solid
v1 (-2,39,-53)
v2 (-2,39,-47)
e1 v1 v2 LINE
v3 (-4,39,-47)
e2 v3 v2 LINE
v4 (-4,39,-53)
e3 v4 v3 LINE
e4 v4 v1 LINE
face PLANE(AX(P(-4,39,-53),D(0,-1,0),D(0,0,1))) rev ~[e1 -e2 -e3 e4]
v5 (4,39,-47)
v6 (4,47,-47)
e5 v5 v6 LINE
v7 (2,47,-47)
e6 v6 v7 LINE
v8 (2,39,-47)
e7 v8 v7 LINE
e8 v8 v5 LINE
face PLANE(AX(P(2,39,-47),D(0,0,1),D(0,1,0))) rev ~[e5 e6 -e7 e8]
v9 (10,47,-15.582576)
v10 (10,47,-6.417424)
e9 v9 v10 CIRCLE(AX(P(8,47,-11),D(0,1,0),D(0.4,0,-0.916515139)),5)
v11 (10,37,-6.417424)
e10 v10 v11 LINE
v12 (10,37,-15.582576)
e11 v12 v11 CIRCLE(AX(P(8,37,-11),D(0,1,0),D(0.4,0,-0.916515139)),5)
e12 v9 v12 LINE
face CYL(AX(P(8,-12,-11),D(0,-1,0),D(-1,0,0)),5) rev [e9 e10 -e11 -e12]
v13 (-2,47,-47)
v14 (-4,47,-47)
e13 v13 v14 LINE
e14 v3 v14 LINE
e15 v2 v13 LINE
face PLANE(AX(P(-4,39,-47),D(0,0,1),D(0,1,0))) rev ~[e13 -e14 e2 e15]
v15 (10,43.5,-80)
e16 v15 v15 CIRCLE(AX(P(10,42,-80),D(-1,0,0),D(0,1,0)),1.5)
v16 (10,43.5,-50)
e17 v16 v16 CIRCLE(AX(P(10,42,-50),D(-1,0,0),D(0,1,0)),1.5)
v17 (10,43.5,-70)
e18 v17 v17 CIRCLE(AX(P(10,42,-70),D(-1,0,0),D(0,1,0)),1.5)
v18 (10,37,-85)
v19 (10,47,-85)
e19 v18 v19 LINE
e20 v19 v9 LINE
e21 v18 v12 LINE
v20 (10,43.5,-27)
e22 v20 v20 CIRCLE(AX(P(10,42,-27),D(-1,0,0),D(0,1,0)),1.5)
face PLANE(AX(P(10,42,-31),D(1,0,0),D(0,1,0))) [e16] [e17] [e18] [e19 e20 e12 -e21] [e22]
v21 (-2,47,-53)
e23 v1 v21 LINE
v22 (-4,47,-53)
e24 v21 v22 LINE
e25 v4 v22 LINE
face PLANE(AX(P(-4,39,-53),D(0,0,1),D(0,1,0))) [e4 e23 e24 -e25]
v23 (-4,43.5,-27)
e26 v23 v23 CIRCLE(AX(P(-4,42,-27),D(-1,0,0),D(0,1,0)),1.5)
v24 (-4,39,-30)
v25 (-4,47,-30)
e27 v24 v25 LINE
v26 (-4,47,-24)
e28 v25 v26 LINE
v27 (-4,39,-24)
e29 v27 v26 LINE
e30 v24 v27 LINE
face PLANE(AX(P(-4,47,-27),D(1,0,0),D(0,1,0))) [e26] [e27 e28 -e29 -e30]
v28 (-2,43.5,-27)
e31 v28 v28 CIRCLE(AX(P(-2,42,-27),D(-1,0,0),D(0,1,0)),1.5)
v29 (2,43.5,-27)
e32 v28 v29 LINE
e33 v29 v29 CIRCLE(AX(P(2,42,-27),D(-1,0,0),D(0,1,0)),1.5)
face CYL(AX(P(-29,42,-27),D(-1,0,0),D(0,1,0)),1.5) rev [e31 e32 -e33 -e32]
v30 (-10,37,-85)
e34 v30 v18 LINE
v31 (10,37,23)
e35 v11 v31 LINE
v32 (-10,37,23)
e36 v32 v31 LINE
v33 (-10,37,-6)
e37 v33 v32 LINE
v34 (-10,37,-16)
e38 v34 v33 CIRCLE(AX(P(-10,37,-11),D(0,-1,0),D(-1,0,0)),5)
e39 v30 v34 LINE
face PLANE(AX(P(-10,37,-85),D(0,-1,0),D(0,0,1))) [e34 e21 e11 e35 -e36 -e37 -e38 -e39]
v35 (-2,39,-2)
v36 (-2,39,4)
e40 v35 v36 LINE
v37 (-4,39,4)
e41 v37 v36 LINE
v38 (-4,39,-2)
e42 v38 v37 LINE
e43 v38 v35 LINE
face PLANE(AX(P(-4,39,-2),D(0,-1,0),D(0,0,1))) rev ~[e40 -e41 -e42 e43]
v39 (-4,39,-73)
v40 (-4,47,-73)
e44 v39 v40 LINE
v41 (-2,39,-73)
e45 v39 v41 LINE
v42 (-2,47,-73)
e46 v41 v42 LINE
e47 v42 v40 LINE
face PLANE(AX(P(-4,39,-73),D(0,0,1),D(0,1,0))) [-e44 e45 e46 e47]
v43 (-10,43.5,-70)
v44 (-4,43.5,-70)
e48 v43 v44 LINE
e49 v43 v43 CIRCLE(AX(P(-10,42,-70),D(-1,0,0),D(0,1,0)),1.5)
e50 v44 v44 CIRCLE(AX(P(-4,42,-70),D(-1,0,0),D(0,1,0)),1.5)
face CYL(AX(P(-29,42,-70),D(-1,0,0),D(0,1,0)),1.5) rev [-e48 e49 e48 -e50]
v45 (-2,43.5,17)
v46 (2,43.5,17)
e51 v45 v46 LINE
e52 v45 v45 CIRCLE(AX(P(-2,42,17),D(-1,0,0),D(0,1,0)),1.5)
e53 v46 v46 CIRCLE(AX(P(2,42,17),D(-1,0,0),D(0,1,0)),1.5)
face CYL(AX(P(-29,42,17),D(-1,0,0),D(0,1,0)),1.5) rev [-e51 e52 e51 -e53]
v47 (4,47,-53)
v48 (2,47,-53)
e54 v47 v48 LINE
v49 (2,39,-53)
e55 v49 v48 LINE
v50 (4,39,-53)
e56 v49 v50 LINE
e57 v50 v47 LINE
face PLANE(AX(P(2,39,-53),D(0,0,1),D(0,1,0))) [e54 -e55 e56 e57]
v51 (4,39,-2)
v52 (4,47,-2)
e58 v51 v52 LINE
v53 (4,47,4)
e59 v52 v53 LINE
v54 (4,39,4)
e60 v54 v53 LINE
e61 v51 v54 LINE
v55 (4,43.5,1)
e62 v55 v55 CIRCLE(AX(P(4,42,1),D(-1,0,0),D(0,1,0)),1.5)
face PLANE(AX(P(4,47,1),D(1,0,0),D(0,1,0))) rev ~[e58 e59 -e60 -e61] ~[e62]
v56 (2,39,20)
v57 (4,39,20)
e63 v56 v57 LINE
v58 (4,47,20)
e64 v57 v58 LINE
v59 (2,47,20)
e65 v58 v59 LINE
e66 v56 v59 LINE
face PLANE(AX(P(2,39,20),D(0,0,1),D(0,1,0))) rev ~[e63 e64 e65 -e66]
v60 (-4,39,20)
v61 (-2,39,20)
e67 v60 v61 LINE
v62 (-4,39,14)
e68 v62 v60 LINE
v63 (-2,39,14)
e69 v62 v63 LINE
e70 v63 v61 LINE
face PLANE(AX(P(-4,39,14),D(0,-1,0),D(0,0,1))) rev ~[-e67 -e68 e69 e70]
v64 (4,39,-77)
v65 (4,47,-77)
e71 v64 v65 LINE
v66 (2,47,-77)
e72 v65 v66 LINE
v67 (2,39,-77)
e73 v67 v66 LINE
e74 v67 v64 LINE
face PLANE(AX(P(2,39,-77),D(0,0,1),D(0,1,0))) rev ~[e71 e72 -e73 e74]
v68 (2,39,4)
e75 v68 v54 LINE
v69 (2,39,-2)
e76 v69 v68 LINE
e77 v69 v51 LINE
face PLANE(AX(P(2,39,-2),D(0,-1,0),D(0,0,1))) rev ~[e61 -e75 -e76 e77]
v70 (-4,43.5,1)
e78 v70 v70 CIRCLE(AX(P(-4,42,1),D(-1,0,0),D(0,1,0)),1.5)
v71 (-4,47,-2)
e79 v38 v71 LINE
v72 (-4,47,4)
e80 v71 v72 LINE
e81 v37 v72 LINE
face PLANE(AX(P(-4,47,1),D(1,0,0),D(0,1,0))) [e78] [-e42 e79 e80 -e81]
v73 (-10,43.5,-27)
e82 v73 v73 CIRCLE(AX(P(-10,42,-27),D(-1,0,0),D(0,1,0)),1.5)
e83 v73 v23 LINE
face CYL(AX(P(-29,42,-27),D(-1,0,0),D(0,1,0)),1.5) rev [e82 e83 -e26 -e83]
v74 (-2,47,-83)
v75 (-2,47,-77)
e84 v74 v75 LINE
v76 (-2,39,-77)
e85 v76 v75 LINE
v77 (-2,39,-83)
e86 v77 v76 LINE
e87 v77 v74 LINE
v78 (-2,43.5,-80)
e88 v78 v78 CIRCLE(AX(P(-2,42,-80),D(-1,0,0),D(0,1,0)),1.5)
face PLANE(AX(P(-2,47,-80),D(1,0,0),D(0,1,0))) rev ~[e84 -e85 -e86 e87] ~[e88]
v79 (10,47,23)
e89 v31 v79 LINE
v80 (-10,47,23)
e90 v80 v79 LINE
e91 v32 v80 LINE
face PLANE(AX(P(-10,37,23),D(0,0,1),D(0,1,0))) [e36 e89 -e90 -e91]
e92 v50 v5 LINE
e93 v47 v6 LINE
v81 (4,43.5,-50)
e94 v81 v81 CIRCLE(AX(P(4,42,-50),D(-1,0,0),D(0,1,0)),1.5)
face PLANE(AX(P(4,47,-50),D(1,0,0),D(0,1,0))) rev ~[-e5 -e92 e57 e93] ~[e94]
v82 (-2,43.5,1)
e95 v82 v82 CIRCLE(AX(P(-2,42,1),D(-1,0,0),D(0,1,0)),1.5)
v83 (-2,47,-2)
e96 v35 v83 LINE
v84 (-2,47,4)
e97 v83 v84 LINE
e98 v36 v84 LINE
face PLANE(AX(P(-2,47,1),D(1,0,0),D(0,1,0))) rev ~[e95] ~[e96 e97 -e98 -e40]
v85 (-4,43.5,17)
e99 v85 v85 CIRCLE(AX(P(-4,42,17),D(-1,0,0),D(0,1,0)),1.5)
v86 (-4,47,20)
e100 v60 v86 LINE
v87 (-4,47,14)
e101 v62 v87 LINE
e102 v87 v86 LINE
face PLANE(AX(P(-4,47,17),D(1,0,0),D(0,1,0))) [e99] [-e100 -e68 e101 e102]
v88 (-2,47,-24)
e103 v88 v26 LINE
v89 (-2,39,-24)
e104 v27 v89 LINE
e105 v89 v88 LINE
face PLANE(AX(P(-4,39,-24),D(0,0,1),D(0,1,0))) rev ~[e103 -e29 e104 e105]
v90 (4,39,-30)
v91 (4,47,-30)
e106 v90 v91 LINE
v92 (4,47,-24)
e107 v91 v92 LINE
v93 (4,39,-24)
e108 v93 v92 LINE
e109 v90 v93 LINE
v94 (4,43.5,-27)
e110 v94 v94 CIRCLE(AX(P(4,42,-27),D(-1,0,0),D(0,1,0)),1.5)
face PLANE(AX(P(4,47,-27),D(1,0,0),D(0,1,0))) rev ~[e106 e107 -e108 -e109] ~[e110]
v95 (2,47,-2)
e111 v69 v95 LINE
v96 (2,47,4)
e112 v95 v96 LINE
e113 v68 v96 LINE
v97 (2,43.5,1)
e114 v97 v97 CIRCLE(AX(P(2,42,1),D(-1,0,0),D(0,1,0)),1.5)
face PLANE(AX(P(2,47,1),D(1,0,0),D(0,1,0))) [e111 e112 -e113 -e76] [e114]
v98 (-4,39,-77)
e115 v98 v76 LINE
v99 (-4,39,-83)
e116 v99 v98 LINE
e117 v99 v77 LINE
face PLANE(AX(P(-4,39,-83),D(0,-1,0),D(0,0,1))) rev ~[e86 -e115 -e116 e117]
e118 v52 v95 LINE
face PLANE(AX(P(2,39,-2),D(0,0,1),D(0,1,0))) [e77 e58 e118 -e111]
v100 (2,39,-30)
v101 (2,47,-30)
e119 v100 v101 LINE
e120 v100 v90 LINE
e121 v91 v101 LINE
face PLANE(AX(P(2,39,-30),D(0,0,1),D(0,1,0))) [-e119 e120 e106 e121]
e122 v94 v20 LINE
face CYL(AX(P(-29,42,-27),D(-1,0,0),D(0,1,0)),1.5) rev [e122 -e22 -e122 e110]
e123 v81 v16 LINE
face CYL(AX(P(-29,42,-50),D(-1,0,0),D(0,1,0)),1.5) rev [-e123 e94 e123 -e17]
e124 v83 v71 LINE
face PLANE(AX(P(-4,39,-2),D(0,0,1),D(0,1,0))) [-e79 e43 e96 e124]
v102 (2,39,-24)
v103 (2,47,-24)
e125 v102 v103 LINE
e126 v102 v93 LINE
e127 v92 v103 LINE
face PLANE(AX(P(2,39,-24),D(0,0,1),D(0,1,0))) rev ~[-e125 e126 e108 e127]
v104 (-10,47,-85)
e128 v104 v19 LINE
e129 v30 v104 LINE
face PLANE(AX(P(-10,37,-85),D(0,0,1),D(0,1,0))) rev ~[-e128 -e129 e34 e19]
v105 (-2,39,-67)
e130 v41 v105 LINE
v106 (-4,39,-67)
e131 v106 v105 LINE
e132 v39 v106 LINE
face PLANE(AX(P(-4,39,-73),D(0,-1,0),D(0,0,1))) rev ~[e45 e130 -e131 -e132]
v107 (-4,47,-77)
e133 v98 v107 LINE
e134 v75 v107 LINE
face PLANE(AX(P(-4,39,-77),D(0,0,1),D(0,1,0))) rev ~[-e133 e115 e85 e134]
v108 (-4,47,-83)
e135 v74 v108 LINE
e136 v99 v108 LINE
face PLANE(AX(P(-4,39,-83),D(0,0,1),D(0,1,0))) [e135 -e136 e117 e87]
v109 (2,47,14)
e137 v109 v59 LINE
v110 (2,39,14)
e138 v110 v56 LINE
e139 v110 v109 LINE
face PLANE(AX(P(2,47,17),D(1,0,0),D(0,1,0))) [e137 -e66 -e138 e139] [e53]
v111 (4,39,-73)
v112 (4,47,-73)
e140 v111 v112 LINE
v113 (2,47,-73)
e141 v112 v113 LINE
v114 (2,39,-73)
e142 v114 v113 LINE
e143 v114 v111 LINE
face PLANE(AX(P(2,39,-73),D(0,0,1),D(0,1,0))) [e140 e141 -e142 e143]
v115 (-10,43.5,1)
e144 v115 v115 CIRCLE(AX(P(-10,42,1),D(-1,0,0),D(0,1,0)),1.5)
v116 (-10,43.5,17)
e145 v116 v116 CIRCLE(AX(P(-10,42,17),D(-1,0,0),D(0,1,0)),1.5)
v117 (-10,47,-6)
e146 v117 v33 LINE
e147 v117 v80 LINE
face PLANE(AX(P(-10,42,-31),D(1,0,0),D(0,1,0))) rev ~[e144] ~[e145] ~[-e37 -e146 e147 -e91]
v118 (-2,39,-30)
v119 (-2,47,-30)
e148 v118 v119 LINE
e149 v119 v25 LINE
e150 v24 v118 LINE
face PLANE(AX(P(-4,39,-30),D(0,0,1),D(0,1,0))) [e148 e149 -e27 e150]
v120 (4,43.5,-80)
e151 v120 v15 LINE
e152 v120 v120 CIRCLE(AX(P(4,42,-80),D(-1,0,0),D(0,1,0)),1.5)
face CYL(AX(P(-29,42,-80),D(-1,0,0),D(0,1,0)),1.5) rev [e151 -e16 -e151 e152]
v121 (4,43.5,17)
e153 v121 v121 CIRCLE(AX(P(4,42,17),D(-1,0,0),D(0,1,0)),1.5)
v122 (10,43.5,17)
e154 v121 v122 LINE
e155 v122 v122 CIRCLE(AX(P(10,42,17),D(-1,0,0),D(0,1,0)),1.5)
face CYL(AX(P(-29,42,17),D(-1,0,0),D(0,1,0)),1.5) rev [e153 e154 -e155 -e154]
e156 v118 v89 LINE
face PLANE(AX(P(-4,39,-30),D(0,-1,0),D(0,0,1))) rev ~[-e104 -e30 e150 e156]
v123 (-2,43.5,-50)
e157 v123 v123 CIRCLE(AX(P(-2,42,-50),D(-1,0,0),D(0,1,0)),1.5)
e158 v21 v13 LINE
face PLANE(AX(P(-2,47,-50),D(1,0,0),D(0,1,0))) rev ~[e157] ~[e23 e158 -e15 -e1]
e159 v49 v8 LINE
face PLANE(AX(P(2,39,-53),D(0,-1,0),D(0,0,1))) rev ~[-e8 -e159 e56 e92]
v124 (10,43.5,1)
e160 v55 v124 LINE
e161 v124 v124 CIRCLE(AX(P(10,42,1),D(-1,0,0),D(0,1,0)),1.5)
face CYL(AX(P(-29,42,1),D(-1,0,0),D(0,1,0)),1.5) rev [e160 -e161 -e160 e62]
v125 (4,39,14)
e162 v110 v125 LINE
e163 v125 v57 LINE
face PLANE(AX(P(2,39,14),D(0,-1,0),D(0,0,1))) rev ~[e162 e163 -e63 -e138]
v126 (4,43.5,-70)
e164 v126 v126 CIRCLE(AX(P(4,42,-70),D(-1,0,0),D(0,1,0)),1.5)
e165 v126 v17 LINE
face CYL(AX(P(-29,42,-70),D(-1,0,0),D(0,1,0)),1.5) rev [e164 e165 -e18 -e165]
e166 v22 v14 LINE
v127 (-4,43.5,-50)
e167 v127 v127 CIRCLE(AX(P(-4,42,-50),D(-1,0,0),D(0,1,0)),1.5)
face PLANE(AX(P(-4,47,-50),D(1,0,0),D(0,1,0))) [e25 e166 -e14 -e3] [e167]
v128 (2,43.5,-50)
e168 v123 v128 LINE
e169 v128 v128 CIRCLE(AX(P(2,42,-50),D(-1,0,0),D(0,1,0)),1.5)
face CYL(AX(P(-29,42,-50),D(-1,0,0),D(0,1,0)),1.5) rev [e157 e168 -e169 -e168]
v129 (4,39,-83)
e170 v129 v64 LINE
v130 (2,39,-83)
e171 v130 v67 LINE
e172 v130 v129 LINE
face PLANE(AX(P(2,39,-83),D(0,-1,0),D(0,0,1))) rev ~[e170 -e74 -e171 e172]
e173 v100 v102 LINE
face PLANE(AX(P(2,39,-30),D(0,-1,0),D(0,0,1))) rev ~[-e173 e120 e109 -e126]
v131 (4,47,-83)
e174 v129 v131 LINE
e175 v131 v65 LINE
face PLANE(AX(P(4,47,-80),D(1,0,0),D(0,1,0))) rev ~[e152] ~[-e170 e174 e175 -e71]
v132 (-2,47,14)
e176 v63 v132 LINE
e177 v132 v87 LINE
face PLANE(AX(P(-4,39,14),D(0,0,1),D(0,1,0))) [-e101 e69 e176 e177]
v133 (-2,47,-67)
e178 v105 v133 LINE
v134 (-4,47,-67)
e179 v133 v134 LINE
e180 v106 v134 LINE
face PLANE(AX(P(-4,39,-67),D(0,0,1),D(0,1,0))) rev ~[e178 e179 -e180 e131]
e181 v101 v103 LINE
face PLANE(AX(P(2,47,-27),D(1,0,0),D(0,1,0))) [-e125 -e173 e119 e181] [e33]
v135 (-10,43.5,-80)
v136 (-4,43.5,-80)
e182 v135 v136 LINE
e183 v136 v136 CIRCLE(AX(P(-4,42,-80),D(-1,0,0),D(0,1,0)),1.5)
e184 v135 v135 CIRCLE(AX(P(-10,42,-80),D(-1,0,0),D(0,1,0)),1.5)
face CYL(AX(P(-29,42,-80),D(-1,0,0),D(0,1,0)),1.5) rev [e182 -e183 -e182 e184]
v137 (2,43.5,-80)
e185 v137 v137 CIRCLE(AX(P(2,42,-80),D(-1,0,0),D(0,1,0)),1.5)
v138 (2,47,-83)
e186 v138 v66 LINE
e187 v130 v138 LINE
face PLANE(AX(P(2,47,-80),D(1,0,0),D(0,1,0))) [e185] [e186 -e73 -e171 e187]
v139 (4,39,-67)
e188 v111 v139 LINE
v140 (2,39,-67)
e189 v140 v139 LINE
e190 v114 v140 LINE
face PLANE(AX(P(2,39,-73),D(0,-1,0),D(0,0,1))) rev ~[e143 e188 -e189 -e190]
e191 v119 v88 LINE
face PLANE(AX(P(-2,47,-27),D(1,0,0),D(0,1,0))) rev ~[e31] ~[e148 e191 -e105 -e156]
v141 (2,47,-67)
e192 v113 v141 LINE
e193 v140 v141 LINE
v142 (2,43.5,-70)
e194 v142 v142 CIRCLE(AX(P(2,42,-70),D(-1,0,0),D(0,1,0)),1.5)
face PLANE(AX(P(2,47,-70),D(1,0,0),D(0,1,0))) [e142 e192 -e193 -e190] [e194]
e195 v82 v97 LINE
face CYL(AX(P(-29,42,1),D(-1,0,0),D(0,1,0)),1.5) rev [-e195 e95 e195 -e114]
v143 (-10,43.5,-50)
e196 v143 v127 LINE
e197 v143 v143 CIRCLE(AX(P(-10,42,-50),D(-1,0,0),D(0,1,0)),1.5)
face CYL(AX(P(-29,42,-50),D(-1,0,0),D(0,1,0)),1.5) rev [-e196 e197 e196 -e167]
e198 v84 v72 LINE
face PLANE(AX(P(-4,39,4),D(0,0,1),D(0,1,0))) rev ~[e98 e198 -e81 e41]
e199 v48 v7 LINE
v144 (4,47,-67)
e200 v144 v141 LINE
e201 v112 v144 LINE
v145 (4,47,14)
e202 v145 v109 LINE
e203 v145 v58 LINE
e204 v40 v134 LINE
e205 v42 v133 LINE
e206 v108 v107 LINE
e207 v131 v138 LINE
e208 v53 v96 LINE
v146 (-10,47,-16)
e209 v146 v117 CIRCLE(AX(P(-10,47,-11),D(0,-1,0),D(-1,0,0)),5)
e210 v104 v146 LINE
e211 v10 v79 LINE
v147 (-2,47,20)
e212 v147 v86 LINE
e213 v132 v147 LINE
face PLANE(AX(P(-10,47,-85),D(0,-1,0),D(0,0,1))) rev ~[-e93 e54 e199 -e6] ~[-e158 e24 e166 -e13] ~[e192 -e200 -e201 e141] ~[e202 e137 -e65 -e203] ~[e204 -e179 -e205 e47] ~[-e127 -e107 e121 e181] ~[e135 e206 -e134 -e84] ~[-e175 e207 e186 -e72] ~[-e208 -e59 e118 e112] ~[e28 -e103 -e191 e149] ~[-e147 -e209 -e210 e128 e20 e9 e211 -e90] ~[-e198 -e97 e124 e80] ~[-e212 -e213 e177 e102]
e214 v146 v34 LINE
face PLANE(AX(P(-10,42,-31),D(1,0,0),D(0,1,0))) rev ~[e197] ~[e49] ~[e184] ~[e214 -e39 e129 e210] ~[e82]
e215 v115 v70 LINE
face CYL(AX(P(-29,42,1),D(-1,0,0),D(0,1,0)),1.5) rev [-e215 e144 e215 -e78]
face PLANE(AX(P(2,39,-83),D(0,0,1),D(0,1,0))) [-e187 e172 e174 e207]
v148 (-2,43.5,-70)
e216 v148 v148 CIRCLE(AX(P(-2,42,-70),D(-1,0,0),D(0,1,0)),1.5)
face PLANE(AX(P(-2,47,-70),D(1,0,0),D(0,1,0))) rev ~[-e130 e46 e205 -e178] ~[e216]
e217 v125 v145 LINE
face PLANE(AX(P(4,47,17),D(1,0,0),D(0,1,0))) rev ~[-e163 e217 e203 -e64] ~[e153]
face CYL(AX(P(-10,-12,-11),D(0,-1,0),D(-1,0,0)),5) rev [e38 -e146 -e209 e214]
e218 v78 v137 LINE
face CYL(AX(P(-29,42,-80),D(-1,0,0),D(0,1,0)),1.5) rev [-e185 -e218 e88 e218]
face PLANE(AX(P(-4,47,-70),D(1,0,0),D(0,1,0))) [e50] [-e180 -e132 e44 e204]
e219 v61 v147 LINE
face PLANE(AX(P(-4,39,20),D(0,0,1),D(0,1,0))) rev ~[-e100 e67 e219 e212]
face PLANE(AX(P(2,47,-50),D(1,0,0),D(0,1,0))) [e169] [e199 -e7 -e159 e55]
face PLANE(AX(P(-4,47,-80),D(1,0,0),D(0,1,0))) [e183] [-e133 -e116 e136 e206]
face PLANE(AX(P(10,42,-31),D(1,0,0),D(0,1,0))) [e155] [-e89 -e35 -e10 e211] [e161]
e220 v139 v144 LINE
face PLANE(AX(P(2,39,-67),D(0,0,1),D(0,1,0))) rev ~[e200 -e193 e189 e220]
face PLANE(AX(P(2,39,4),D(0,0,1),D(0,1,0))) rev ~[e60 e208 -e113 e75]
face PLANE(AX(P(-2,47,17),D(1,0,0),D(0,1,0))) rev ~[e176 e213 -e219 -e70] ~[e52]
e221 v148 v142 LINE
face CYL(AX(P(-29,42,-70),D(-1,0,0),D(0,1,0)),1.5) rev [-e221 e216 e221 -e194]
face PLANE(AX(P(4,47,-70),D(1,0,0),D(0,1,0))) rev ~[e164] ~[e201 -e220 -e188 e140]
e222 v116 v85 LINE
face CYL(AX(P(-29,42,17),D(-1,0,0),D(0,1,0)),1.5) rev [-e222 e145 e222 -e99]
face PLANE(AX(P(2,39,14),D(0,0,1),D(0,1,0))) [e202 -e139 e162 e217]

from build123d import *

# Parameters (mm, degrees)
BOX202_W               = 16
BOX202_H               = 6
BOX202_DEPTH           = 2
BOX208_W               = 16
BOX208_H               = 6
BOX208_DEPTH           = 2
BOX206_W               = 16
BOX206_H               = 6
BOX206_DEPTH           = 2
BOX204_W               = 16
BOX204_H               = 6
BOX204_DEPTH           = 2
BOX198_W               = 16
BOX198_H               = 6
BOX198_DEPTH           = 2
BOX209_W               = 16
BOX209_H               = 6
BOX209_DEPTH           = 2
BOX205_W               = 16
BOX205_H               = 6
BOX205_DEPTH           = 2
BOX207_W               = 16
BOX207_H               = 6
BOX207_DEPTH           = 2
BOX200_W               = 16
BOX200_H               = 6
BOX200_DEPTH           = 2
BOX212_W               = 16
BOX212_H               = 6
BOX212_DEPTH           = 2
BOX211_W               = 16
BOX211_H               = 6
BOX211_DEPTH           = 2
BOX203_W               = 16
BOX203_H               = 6
BOX203_DEPTH           = 2
CYLINDER480_R          = 1.5
CYLINDER480_DEPTH      = 50
CYLINDER467_R          = 1.5
CYLINDER467_DEPTH      = 50
CYLINDER483_R          = 1.5
CYLINDER483_DEPTH      = 50
CYLINDER486_R          = 1.5
CYLINDER486_DEPTH      = 50
CYLINDER488_R          = 1.5
CYLINDER488_DEPTH      = 50
CYLINDER482_R          = 1.5
CYLINDER482_DEPTH      = 50
CYLINDER476_R          = 5
CYLINDER476_DEPTH      = 100
CYLINDER475_R          = 5
CYLINDER475_DEPTH      = 100
CYLINDER461_R          = 5
CYLINDER461_DEPTH      = 100
CYLINDER477_R          = 5
CYLINDER477_DEPTH      = 100
CYLINDER481_R          = 5
CYLINDER481_DEPTH      = 100
CYLINDER478_R          = 5
CYLINDER478_DEPTH      = 100
CYLINDER479_R          = 5
CYLINDER479_DEPTH      = 100
CYLINDER474_R          = 5
CYLINDER474_DEPTH      = 100
BOX201_W               = 10
BOX201_H               = 108
BOX201_DEPTH           = 20
CUT591_ROLL_ANGLE      = 90
CUT591_PLACEMENT_ANGLE = 90


with BuildPart() as krychle202:
    # Box202 → Box202 (new body)
    with BuildSketch(Plane(origin=(60, 2, 16), x_dir=(1, 0, 0), z_dir=(0, 0, 1))):
        with Locations((8, 3)):
            Rectangle(BOX202_W, BOX202_H)
    extrude(amount=BOX202_DEPTH)


with BuildPart() as krychle208:
    # Box208 → Box208 (new body)
    with BuildSketch(Plane(origin=(60, -21, 10), x_dir=(1, 0, 0), z_dir=(0, 0, 1))):
        with Locations((8, 3)):
            Rectangle(BOX208_W, BOX208_H)
    extrude(amount=BOX208_DEPTH)


with BuildPart() as krychle206:
    # Box206 → Box206 (new body)
    with BuildSketch(Plane(origin=(60, -21, 16), x_dir=(1, 0, 0), z_dir=(0, 0, 1))):
        with Locations((8, 3)):
            Rectangle(BOX206_W, BOX206_H)
    extrude(amount=BOX206_DEPTH)


with BuildPart() as krychle204:
    # Box204 → Box204 (new body)
    with BuildSketch(Plane(origin=(60, -41, 10), x_dir=(1, 0, 0), z_dir=(0, 0, 1))):
        with Locations((8, 3)):
            Rectangle(BOX204_W, BOX204_H)
    extrude(amount=BOX204_DEPTH)


with BuildPart() as krychle198:
    # Box198 → Box198 (new body)
    with BuildSketch(Plane(origin=(60, -41, 16), x_dir=(1, 0, 0), z_dir=(0, 0, 1))):
        with Locations((8, 3)):
            Rectangle(BOX198_W, BOX198_H)
    extrude(amount=BOX198_DEPTH)


with BuildPart() as krychle209:
    # Box209 → Box209 (new body)
    with BuildSketch(Plane(origin=(60, -51, 10), x_dir=(1, 0, 0), z_dir=(0, 0, 1))):
        with Locations((8, 3)):
            Rectangle(BOX209_W, BOX209_H)
    extrude(amount=BOX209_DEPTH)


with BuildPart() as krychle205:
    # Box205 → Box205 (new body)
    with BuildSketch(Plane(origin=(60, -51, 16), x_dir=(1, 0, 0), z_dir=(0, 0, 1))):
        with Locations((8, 3)):
            Rectangle(BOX205_W, BOX205_H)
    extrude(amount=BOX205_DEPTH)


with BuildPart() as krychle207:
    # Box207 → Box207 (new body)
    with BuildSketch(Plane(origin=(60, 30, 10), x_dir=(1, 0, 0), z_dir=(0, 0, 1))):
        with Locations((8, 3)):
            Rectangle(BOX207_W, BOX207_H)
    extrude(amount=BOX207_DEPTH)


with BuildPart() as krychle200:
    # Box200 → Box200 (new body)
    with BuildSketch(Plane(origin=(60, 46, 10), x_dir=(1, 0, 0), z_dir=(0, 0, 1))):
        with Locations((8, 3)):
            Rectangle(BOX200_W, BOX200_H)
    extrude(amount=BOX200_DEPTH)


with BuildPart() as krychle212:
    # Box212 → Box212 (new body)
    with BuildSketch(Plane(origin=(60, 30, 16), x_dir=(1, 0, 0), z_dir=(0, 0, 1))):
        with Locations((8, 3)):
            Rectangle(BOX212_W, BOX212_H)
    extrude(amount=BOX212_DEPTH)


with BuildPart() as krychle211:
    # Box211 → Box211 (new body)
    with BuildSketch(Plane(origin=(60, 46, 16), x_dir=(1, 0, 0), z_dir=(0, 0, 1))):
        with Locations((8, 3)):
            Rectangle(BOX211_W, BOX211_H)
    extrude(amount=BOX211_DEPTH)


with BuildPart() as compound592:
    # Box203 → Box203 (new body)
    with BuildSketch(Plane(origin=(60, 2, 10), x_dir=(1, 0, 0), z_dir=(0, 0, 1))):
        with Locations((8, 3)):
            Rectangle(BOX203_W, BOX203_H)
    extrude(amount=BOX203_DEPTH)

    # Compound592: union Krychle202, Krychle208, Krychle206, Krychle204, Krychle198, Krychle209, Krychle205, Krychle207, Krychle200, Krychle212, Krychle211
    add(krychle202.part)
    add(krychle208.part)
    add(krychle206.part)
    add(krychle204.part)
    add(krychle198.part)
    add(krychle209.part)
    add(krychle205.part)
    add(krychle207.part)
    add(krychle200.part)
    add(krychle212.part)
    add(krychle211.part)


with BuildPart() as compound592_1:
    # Compound592 placement: moved
    add(compound592.part.moved(Location((39, 24, 3))))


with BuildPart() as v_lec480:
    # Cylinder480 → Cylinder480 (new body)
    with BuildSketch(Plane(origin=(63, -18, -12), x_dir=(1, 0, 0), z_dir=(0, 0, 1))):
        Circle(CYLINDER480_R)
    extrude(amount=CYLINDER480_DEPTH)


with BuildPart() as v_lec467:
    # Cylinder467 → Cylinder467 (new body)
    with BuildSketch(Plane(origin=(63, -38, -12), x_dir=(1, 0, 0), z_dir=(0, 0, 1))):
        Circle(CYLINDER467_R)
    extrude(amount=CYLINDER467_DEPTH)


with BuildPart() as v_lec483:
    # Cylinder483 → Cylinder483 (new body)
    with BuildSketch(Plane(origin=(63, -48, -12), x_dir=(1, 0, 0), z_dir=(0, 0, 1))):
        Circle(CYLINDER483_R)
    extrude(amount=CYLINDER483_DEPTH)


with BuildPart() as v_lec486:
    # Cylinder486 → Cylinder486 (new body)
    with BuildSketch(Plane(origin=(63, 33, -12), x_dir=(1, 0, 0), z_dir=(0, 0, 1))):
        Circle(CYLINDER486_R)
    extrude(amount=CYLINDER486_DEPTH)


with BuildPart() as v_lec488:
    # Cylinder488 → Cylinder488 (new body)
    with BuildSketch(Plane(origin=(63, 49, -12), x_dir=(1, 0, 0), z_dir=(0, 0, 1))):
        Circle(CYLINDER488_R)
    extrude(amount=CYLINDER488_DEPTH)


with BuildPart() as compound593:
    # Cylinder482 → Cylinder482 (new body)
    with BuildSketch(Plane(origin=(63, 5, -12), x_dir=(1, 0, 0), z_dir=(0, 0, 1))):
        Circle(CYLINDER482_R)
    extrude(amount=CYLINDER482_DEPTH)

    # Compound593: union Válec480, Válec467, Válec483, Válec486, Válec488
    add(v_lec480.part)
    add(v_lec467.part)
    add(v_lec483.part)
    add(v_lec486.part)
    add(v_lec488.part)


with BuildPart() as compound593_1:
    # Compound593 placement: moved
    add(compound593.part.moved(Location((39, 24, 0))))


with BuildPart() as v_lec476:
    # Cylinder476 → Cylinder476 (new body)
    with BuildSketch(Plane(origin=(24, -51, 25), x_dir=(0, 0, -1), z_dir=(1, 0, 0))):
        Circle(CYLINDER476_R)
    extrude(amount=CYLINDER476_DEPTH)


with BuildPart() as v_lec475:
    # Cylinder475 → Cylinder475 (new body)
    with BuildSketch(Plane(origin=(24, 36, 34), x_dir=(0, 0, -1), z_dir=(1, 0, 0))):
        Circle(CYLINDER475_R)
    extrude(amount=CYLINDER475_DEPTH)


with BuildPart() as v_lec461:
    # Cylinder461 → Cylinder461 (new body)
    with BuildSketch(Plane(origin=(24, -36, 34), x_dir=(0, 0, -1), z_dir=(1, 0, 0))):
        Circle(CYLINDER461_R)
    extrude(amount=CYLINDER461_DEPTH)


with BuildPart() as v_lec477:
    # Cylinder477 → Cylinder477 (new body)
    with BuildSketch(Plane(origin=(24, -23, -5), x_dir=(0, 0, -1), z_dir=(1, 0, 0))):
        Circle(CYLINDER477_R)
    extrude(amount=CYLINDER477_DEPTH)


with BuildPart() as v_lec481:
    # Cylinder481 → Cylinder481 (new body)
    with BuildSketch(Plane(origin=(24, 51, 7), x_dir=(0, 0, -1), z_dir=(1, 0, 0))):
        Circle(CYLINDER481_R)
    extrude(amount=CYLINDER481_DEPTH)


with BuildPart() as v_lec478:
    # Cylinder478 → Cylinder478 (new body)
    with BuildSketch(Plane(origin=(24, 23, -5), x_dir=(0, 0, -1), z_dir=(1, 0, 0))):
        Circle(CYLINDER478_R)
    extrude(amount=CYLINDER478_DEPTH)


with BuildPart() as v_lec479:
    # Cylinder479 → Cylinder479 (new body)
    with BuildSketch(Plane(origin=(24, -51, 7), x_dir=(0, 0, -1), z_dir=(1, 0, 0))):
        Circle(CYLINDER479_R)
    extrude(amount=CYLINDER479_DEPTH)


with BuildPart() as compound596:
    # Cylinder474 → Cylinder474 (new body)
    with BuildSketch(Plane(origin=(24, 51, 25), x_dir=(0, 0, -1), z_dir=(1, 0, 0))):
        Circle(CYLINDER474_R)
    extrude(amount=CYLINDER474_DEPTH)

    # Compound596: union Válec476, Válec475, Válec461, Válec477, Válec481, Válec478, Válec479
    add(v_lec476.part)
    add(v_lec475.part)
    add(v_lec461.part)
    add(v_lec477.part)
    add(v_lec481.part)
    add(v_lec478.part)
    add(v_lec479.part)


with BuildPart() as compound596_1:
    # Compound596 placement: moved
    add(compound596.part.moved(Location((24, -6, 0))))


with BuildPart() as supershift:
    # Box201 → Box201 (new body)
    with BuildSketch(Plane(origin=(97, -29, 7), x_dir=(1, 0, 0), z_dir=(0, 0, 1))):
        with Locations((5, 54)):
            Rectangle(BOX201_W, BOX201_H)
    extrude(amount=BOX201_DEPTH)

    # Cut590: cut Compound596
    add(compound596_1.part, mode=Mode.SUBTRACT)

    # Cut589: cut Compound593
    add(compound593_1.part, mode=Mode.SUBTRACT)

    # Cut591: cut Compound592
    add(compound592_1.part, mode=Mode.SUBTRACT)


with BuildPart() as supershift_1:
    # Cut591 roll: moved
    add(supershift.part.rotate(Axis((0, 0, 0), (1, 0, 0)), CUT591_ROLL_ANGLE))


with BuildPart() as supershift_2:
    # Cut591 placement: moved
    add(supershift_1.part.moved(Location((-17, -60, -56))).rotate(Axis((-17, -60, -56), (0, 0, 1)), CUT591_PLACEMENT_ANGLE))


solid = supershift_2.part
